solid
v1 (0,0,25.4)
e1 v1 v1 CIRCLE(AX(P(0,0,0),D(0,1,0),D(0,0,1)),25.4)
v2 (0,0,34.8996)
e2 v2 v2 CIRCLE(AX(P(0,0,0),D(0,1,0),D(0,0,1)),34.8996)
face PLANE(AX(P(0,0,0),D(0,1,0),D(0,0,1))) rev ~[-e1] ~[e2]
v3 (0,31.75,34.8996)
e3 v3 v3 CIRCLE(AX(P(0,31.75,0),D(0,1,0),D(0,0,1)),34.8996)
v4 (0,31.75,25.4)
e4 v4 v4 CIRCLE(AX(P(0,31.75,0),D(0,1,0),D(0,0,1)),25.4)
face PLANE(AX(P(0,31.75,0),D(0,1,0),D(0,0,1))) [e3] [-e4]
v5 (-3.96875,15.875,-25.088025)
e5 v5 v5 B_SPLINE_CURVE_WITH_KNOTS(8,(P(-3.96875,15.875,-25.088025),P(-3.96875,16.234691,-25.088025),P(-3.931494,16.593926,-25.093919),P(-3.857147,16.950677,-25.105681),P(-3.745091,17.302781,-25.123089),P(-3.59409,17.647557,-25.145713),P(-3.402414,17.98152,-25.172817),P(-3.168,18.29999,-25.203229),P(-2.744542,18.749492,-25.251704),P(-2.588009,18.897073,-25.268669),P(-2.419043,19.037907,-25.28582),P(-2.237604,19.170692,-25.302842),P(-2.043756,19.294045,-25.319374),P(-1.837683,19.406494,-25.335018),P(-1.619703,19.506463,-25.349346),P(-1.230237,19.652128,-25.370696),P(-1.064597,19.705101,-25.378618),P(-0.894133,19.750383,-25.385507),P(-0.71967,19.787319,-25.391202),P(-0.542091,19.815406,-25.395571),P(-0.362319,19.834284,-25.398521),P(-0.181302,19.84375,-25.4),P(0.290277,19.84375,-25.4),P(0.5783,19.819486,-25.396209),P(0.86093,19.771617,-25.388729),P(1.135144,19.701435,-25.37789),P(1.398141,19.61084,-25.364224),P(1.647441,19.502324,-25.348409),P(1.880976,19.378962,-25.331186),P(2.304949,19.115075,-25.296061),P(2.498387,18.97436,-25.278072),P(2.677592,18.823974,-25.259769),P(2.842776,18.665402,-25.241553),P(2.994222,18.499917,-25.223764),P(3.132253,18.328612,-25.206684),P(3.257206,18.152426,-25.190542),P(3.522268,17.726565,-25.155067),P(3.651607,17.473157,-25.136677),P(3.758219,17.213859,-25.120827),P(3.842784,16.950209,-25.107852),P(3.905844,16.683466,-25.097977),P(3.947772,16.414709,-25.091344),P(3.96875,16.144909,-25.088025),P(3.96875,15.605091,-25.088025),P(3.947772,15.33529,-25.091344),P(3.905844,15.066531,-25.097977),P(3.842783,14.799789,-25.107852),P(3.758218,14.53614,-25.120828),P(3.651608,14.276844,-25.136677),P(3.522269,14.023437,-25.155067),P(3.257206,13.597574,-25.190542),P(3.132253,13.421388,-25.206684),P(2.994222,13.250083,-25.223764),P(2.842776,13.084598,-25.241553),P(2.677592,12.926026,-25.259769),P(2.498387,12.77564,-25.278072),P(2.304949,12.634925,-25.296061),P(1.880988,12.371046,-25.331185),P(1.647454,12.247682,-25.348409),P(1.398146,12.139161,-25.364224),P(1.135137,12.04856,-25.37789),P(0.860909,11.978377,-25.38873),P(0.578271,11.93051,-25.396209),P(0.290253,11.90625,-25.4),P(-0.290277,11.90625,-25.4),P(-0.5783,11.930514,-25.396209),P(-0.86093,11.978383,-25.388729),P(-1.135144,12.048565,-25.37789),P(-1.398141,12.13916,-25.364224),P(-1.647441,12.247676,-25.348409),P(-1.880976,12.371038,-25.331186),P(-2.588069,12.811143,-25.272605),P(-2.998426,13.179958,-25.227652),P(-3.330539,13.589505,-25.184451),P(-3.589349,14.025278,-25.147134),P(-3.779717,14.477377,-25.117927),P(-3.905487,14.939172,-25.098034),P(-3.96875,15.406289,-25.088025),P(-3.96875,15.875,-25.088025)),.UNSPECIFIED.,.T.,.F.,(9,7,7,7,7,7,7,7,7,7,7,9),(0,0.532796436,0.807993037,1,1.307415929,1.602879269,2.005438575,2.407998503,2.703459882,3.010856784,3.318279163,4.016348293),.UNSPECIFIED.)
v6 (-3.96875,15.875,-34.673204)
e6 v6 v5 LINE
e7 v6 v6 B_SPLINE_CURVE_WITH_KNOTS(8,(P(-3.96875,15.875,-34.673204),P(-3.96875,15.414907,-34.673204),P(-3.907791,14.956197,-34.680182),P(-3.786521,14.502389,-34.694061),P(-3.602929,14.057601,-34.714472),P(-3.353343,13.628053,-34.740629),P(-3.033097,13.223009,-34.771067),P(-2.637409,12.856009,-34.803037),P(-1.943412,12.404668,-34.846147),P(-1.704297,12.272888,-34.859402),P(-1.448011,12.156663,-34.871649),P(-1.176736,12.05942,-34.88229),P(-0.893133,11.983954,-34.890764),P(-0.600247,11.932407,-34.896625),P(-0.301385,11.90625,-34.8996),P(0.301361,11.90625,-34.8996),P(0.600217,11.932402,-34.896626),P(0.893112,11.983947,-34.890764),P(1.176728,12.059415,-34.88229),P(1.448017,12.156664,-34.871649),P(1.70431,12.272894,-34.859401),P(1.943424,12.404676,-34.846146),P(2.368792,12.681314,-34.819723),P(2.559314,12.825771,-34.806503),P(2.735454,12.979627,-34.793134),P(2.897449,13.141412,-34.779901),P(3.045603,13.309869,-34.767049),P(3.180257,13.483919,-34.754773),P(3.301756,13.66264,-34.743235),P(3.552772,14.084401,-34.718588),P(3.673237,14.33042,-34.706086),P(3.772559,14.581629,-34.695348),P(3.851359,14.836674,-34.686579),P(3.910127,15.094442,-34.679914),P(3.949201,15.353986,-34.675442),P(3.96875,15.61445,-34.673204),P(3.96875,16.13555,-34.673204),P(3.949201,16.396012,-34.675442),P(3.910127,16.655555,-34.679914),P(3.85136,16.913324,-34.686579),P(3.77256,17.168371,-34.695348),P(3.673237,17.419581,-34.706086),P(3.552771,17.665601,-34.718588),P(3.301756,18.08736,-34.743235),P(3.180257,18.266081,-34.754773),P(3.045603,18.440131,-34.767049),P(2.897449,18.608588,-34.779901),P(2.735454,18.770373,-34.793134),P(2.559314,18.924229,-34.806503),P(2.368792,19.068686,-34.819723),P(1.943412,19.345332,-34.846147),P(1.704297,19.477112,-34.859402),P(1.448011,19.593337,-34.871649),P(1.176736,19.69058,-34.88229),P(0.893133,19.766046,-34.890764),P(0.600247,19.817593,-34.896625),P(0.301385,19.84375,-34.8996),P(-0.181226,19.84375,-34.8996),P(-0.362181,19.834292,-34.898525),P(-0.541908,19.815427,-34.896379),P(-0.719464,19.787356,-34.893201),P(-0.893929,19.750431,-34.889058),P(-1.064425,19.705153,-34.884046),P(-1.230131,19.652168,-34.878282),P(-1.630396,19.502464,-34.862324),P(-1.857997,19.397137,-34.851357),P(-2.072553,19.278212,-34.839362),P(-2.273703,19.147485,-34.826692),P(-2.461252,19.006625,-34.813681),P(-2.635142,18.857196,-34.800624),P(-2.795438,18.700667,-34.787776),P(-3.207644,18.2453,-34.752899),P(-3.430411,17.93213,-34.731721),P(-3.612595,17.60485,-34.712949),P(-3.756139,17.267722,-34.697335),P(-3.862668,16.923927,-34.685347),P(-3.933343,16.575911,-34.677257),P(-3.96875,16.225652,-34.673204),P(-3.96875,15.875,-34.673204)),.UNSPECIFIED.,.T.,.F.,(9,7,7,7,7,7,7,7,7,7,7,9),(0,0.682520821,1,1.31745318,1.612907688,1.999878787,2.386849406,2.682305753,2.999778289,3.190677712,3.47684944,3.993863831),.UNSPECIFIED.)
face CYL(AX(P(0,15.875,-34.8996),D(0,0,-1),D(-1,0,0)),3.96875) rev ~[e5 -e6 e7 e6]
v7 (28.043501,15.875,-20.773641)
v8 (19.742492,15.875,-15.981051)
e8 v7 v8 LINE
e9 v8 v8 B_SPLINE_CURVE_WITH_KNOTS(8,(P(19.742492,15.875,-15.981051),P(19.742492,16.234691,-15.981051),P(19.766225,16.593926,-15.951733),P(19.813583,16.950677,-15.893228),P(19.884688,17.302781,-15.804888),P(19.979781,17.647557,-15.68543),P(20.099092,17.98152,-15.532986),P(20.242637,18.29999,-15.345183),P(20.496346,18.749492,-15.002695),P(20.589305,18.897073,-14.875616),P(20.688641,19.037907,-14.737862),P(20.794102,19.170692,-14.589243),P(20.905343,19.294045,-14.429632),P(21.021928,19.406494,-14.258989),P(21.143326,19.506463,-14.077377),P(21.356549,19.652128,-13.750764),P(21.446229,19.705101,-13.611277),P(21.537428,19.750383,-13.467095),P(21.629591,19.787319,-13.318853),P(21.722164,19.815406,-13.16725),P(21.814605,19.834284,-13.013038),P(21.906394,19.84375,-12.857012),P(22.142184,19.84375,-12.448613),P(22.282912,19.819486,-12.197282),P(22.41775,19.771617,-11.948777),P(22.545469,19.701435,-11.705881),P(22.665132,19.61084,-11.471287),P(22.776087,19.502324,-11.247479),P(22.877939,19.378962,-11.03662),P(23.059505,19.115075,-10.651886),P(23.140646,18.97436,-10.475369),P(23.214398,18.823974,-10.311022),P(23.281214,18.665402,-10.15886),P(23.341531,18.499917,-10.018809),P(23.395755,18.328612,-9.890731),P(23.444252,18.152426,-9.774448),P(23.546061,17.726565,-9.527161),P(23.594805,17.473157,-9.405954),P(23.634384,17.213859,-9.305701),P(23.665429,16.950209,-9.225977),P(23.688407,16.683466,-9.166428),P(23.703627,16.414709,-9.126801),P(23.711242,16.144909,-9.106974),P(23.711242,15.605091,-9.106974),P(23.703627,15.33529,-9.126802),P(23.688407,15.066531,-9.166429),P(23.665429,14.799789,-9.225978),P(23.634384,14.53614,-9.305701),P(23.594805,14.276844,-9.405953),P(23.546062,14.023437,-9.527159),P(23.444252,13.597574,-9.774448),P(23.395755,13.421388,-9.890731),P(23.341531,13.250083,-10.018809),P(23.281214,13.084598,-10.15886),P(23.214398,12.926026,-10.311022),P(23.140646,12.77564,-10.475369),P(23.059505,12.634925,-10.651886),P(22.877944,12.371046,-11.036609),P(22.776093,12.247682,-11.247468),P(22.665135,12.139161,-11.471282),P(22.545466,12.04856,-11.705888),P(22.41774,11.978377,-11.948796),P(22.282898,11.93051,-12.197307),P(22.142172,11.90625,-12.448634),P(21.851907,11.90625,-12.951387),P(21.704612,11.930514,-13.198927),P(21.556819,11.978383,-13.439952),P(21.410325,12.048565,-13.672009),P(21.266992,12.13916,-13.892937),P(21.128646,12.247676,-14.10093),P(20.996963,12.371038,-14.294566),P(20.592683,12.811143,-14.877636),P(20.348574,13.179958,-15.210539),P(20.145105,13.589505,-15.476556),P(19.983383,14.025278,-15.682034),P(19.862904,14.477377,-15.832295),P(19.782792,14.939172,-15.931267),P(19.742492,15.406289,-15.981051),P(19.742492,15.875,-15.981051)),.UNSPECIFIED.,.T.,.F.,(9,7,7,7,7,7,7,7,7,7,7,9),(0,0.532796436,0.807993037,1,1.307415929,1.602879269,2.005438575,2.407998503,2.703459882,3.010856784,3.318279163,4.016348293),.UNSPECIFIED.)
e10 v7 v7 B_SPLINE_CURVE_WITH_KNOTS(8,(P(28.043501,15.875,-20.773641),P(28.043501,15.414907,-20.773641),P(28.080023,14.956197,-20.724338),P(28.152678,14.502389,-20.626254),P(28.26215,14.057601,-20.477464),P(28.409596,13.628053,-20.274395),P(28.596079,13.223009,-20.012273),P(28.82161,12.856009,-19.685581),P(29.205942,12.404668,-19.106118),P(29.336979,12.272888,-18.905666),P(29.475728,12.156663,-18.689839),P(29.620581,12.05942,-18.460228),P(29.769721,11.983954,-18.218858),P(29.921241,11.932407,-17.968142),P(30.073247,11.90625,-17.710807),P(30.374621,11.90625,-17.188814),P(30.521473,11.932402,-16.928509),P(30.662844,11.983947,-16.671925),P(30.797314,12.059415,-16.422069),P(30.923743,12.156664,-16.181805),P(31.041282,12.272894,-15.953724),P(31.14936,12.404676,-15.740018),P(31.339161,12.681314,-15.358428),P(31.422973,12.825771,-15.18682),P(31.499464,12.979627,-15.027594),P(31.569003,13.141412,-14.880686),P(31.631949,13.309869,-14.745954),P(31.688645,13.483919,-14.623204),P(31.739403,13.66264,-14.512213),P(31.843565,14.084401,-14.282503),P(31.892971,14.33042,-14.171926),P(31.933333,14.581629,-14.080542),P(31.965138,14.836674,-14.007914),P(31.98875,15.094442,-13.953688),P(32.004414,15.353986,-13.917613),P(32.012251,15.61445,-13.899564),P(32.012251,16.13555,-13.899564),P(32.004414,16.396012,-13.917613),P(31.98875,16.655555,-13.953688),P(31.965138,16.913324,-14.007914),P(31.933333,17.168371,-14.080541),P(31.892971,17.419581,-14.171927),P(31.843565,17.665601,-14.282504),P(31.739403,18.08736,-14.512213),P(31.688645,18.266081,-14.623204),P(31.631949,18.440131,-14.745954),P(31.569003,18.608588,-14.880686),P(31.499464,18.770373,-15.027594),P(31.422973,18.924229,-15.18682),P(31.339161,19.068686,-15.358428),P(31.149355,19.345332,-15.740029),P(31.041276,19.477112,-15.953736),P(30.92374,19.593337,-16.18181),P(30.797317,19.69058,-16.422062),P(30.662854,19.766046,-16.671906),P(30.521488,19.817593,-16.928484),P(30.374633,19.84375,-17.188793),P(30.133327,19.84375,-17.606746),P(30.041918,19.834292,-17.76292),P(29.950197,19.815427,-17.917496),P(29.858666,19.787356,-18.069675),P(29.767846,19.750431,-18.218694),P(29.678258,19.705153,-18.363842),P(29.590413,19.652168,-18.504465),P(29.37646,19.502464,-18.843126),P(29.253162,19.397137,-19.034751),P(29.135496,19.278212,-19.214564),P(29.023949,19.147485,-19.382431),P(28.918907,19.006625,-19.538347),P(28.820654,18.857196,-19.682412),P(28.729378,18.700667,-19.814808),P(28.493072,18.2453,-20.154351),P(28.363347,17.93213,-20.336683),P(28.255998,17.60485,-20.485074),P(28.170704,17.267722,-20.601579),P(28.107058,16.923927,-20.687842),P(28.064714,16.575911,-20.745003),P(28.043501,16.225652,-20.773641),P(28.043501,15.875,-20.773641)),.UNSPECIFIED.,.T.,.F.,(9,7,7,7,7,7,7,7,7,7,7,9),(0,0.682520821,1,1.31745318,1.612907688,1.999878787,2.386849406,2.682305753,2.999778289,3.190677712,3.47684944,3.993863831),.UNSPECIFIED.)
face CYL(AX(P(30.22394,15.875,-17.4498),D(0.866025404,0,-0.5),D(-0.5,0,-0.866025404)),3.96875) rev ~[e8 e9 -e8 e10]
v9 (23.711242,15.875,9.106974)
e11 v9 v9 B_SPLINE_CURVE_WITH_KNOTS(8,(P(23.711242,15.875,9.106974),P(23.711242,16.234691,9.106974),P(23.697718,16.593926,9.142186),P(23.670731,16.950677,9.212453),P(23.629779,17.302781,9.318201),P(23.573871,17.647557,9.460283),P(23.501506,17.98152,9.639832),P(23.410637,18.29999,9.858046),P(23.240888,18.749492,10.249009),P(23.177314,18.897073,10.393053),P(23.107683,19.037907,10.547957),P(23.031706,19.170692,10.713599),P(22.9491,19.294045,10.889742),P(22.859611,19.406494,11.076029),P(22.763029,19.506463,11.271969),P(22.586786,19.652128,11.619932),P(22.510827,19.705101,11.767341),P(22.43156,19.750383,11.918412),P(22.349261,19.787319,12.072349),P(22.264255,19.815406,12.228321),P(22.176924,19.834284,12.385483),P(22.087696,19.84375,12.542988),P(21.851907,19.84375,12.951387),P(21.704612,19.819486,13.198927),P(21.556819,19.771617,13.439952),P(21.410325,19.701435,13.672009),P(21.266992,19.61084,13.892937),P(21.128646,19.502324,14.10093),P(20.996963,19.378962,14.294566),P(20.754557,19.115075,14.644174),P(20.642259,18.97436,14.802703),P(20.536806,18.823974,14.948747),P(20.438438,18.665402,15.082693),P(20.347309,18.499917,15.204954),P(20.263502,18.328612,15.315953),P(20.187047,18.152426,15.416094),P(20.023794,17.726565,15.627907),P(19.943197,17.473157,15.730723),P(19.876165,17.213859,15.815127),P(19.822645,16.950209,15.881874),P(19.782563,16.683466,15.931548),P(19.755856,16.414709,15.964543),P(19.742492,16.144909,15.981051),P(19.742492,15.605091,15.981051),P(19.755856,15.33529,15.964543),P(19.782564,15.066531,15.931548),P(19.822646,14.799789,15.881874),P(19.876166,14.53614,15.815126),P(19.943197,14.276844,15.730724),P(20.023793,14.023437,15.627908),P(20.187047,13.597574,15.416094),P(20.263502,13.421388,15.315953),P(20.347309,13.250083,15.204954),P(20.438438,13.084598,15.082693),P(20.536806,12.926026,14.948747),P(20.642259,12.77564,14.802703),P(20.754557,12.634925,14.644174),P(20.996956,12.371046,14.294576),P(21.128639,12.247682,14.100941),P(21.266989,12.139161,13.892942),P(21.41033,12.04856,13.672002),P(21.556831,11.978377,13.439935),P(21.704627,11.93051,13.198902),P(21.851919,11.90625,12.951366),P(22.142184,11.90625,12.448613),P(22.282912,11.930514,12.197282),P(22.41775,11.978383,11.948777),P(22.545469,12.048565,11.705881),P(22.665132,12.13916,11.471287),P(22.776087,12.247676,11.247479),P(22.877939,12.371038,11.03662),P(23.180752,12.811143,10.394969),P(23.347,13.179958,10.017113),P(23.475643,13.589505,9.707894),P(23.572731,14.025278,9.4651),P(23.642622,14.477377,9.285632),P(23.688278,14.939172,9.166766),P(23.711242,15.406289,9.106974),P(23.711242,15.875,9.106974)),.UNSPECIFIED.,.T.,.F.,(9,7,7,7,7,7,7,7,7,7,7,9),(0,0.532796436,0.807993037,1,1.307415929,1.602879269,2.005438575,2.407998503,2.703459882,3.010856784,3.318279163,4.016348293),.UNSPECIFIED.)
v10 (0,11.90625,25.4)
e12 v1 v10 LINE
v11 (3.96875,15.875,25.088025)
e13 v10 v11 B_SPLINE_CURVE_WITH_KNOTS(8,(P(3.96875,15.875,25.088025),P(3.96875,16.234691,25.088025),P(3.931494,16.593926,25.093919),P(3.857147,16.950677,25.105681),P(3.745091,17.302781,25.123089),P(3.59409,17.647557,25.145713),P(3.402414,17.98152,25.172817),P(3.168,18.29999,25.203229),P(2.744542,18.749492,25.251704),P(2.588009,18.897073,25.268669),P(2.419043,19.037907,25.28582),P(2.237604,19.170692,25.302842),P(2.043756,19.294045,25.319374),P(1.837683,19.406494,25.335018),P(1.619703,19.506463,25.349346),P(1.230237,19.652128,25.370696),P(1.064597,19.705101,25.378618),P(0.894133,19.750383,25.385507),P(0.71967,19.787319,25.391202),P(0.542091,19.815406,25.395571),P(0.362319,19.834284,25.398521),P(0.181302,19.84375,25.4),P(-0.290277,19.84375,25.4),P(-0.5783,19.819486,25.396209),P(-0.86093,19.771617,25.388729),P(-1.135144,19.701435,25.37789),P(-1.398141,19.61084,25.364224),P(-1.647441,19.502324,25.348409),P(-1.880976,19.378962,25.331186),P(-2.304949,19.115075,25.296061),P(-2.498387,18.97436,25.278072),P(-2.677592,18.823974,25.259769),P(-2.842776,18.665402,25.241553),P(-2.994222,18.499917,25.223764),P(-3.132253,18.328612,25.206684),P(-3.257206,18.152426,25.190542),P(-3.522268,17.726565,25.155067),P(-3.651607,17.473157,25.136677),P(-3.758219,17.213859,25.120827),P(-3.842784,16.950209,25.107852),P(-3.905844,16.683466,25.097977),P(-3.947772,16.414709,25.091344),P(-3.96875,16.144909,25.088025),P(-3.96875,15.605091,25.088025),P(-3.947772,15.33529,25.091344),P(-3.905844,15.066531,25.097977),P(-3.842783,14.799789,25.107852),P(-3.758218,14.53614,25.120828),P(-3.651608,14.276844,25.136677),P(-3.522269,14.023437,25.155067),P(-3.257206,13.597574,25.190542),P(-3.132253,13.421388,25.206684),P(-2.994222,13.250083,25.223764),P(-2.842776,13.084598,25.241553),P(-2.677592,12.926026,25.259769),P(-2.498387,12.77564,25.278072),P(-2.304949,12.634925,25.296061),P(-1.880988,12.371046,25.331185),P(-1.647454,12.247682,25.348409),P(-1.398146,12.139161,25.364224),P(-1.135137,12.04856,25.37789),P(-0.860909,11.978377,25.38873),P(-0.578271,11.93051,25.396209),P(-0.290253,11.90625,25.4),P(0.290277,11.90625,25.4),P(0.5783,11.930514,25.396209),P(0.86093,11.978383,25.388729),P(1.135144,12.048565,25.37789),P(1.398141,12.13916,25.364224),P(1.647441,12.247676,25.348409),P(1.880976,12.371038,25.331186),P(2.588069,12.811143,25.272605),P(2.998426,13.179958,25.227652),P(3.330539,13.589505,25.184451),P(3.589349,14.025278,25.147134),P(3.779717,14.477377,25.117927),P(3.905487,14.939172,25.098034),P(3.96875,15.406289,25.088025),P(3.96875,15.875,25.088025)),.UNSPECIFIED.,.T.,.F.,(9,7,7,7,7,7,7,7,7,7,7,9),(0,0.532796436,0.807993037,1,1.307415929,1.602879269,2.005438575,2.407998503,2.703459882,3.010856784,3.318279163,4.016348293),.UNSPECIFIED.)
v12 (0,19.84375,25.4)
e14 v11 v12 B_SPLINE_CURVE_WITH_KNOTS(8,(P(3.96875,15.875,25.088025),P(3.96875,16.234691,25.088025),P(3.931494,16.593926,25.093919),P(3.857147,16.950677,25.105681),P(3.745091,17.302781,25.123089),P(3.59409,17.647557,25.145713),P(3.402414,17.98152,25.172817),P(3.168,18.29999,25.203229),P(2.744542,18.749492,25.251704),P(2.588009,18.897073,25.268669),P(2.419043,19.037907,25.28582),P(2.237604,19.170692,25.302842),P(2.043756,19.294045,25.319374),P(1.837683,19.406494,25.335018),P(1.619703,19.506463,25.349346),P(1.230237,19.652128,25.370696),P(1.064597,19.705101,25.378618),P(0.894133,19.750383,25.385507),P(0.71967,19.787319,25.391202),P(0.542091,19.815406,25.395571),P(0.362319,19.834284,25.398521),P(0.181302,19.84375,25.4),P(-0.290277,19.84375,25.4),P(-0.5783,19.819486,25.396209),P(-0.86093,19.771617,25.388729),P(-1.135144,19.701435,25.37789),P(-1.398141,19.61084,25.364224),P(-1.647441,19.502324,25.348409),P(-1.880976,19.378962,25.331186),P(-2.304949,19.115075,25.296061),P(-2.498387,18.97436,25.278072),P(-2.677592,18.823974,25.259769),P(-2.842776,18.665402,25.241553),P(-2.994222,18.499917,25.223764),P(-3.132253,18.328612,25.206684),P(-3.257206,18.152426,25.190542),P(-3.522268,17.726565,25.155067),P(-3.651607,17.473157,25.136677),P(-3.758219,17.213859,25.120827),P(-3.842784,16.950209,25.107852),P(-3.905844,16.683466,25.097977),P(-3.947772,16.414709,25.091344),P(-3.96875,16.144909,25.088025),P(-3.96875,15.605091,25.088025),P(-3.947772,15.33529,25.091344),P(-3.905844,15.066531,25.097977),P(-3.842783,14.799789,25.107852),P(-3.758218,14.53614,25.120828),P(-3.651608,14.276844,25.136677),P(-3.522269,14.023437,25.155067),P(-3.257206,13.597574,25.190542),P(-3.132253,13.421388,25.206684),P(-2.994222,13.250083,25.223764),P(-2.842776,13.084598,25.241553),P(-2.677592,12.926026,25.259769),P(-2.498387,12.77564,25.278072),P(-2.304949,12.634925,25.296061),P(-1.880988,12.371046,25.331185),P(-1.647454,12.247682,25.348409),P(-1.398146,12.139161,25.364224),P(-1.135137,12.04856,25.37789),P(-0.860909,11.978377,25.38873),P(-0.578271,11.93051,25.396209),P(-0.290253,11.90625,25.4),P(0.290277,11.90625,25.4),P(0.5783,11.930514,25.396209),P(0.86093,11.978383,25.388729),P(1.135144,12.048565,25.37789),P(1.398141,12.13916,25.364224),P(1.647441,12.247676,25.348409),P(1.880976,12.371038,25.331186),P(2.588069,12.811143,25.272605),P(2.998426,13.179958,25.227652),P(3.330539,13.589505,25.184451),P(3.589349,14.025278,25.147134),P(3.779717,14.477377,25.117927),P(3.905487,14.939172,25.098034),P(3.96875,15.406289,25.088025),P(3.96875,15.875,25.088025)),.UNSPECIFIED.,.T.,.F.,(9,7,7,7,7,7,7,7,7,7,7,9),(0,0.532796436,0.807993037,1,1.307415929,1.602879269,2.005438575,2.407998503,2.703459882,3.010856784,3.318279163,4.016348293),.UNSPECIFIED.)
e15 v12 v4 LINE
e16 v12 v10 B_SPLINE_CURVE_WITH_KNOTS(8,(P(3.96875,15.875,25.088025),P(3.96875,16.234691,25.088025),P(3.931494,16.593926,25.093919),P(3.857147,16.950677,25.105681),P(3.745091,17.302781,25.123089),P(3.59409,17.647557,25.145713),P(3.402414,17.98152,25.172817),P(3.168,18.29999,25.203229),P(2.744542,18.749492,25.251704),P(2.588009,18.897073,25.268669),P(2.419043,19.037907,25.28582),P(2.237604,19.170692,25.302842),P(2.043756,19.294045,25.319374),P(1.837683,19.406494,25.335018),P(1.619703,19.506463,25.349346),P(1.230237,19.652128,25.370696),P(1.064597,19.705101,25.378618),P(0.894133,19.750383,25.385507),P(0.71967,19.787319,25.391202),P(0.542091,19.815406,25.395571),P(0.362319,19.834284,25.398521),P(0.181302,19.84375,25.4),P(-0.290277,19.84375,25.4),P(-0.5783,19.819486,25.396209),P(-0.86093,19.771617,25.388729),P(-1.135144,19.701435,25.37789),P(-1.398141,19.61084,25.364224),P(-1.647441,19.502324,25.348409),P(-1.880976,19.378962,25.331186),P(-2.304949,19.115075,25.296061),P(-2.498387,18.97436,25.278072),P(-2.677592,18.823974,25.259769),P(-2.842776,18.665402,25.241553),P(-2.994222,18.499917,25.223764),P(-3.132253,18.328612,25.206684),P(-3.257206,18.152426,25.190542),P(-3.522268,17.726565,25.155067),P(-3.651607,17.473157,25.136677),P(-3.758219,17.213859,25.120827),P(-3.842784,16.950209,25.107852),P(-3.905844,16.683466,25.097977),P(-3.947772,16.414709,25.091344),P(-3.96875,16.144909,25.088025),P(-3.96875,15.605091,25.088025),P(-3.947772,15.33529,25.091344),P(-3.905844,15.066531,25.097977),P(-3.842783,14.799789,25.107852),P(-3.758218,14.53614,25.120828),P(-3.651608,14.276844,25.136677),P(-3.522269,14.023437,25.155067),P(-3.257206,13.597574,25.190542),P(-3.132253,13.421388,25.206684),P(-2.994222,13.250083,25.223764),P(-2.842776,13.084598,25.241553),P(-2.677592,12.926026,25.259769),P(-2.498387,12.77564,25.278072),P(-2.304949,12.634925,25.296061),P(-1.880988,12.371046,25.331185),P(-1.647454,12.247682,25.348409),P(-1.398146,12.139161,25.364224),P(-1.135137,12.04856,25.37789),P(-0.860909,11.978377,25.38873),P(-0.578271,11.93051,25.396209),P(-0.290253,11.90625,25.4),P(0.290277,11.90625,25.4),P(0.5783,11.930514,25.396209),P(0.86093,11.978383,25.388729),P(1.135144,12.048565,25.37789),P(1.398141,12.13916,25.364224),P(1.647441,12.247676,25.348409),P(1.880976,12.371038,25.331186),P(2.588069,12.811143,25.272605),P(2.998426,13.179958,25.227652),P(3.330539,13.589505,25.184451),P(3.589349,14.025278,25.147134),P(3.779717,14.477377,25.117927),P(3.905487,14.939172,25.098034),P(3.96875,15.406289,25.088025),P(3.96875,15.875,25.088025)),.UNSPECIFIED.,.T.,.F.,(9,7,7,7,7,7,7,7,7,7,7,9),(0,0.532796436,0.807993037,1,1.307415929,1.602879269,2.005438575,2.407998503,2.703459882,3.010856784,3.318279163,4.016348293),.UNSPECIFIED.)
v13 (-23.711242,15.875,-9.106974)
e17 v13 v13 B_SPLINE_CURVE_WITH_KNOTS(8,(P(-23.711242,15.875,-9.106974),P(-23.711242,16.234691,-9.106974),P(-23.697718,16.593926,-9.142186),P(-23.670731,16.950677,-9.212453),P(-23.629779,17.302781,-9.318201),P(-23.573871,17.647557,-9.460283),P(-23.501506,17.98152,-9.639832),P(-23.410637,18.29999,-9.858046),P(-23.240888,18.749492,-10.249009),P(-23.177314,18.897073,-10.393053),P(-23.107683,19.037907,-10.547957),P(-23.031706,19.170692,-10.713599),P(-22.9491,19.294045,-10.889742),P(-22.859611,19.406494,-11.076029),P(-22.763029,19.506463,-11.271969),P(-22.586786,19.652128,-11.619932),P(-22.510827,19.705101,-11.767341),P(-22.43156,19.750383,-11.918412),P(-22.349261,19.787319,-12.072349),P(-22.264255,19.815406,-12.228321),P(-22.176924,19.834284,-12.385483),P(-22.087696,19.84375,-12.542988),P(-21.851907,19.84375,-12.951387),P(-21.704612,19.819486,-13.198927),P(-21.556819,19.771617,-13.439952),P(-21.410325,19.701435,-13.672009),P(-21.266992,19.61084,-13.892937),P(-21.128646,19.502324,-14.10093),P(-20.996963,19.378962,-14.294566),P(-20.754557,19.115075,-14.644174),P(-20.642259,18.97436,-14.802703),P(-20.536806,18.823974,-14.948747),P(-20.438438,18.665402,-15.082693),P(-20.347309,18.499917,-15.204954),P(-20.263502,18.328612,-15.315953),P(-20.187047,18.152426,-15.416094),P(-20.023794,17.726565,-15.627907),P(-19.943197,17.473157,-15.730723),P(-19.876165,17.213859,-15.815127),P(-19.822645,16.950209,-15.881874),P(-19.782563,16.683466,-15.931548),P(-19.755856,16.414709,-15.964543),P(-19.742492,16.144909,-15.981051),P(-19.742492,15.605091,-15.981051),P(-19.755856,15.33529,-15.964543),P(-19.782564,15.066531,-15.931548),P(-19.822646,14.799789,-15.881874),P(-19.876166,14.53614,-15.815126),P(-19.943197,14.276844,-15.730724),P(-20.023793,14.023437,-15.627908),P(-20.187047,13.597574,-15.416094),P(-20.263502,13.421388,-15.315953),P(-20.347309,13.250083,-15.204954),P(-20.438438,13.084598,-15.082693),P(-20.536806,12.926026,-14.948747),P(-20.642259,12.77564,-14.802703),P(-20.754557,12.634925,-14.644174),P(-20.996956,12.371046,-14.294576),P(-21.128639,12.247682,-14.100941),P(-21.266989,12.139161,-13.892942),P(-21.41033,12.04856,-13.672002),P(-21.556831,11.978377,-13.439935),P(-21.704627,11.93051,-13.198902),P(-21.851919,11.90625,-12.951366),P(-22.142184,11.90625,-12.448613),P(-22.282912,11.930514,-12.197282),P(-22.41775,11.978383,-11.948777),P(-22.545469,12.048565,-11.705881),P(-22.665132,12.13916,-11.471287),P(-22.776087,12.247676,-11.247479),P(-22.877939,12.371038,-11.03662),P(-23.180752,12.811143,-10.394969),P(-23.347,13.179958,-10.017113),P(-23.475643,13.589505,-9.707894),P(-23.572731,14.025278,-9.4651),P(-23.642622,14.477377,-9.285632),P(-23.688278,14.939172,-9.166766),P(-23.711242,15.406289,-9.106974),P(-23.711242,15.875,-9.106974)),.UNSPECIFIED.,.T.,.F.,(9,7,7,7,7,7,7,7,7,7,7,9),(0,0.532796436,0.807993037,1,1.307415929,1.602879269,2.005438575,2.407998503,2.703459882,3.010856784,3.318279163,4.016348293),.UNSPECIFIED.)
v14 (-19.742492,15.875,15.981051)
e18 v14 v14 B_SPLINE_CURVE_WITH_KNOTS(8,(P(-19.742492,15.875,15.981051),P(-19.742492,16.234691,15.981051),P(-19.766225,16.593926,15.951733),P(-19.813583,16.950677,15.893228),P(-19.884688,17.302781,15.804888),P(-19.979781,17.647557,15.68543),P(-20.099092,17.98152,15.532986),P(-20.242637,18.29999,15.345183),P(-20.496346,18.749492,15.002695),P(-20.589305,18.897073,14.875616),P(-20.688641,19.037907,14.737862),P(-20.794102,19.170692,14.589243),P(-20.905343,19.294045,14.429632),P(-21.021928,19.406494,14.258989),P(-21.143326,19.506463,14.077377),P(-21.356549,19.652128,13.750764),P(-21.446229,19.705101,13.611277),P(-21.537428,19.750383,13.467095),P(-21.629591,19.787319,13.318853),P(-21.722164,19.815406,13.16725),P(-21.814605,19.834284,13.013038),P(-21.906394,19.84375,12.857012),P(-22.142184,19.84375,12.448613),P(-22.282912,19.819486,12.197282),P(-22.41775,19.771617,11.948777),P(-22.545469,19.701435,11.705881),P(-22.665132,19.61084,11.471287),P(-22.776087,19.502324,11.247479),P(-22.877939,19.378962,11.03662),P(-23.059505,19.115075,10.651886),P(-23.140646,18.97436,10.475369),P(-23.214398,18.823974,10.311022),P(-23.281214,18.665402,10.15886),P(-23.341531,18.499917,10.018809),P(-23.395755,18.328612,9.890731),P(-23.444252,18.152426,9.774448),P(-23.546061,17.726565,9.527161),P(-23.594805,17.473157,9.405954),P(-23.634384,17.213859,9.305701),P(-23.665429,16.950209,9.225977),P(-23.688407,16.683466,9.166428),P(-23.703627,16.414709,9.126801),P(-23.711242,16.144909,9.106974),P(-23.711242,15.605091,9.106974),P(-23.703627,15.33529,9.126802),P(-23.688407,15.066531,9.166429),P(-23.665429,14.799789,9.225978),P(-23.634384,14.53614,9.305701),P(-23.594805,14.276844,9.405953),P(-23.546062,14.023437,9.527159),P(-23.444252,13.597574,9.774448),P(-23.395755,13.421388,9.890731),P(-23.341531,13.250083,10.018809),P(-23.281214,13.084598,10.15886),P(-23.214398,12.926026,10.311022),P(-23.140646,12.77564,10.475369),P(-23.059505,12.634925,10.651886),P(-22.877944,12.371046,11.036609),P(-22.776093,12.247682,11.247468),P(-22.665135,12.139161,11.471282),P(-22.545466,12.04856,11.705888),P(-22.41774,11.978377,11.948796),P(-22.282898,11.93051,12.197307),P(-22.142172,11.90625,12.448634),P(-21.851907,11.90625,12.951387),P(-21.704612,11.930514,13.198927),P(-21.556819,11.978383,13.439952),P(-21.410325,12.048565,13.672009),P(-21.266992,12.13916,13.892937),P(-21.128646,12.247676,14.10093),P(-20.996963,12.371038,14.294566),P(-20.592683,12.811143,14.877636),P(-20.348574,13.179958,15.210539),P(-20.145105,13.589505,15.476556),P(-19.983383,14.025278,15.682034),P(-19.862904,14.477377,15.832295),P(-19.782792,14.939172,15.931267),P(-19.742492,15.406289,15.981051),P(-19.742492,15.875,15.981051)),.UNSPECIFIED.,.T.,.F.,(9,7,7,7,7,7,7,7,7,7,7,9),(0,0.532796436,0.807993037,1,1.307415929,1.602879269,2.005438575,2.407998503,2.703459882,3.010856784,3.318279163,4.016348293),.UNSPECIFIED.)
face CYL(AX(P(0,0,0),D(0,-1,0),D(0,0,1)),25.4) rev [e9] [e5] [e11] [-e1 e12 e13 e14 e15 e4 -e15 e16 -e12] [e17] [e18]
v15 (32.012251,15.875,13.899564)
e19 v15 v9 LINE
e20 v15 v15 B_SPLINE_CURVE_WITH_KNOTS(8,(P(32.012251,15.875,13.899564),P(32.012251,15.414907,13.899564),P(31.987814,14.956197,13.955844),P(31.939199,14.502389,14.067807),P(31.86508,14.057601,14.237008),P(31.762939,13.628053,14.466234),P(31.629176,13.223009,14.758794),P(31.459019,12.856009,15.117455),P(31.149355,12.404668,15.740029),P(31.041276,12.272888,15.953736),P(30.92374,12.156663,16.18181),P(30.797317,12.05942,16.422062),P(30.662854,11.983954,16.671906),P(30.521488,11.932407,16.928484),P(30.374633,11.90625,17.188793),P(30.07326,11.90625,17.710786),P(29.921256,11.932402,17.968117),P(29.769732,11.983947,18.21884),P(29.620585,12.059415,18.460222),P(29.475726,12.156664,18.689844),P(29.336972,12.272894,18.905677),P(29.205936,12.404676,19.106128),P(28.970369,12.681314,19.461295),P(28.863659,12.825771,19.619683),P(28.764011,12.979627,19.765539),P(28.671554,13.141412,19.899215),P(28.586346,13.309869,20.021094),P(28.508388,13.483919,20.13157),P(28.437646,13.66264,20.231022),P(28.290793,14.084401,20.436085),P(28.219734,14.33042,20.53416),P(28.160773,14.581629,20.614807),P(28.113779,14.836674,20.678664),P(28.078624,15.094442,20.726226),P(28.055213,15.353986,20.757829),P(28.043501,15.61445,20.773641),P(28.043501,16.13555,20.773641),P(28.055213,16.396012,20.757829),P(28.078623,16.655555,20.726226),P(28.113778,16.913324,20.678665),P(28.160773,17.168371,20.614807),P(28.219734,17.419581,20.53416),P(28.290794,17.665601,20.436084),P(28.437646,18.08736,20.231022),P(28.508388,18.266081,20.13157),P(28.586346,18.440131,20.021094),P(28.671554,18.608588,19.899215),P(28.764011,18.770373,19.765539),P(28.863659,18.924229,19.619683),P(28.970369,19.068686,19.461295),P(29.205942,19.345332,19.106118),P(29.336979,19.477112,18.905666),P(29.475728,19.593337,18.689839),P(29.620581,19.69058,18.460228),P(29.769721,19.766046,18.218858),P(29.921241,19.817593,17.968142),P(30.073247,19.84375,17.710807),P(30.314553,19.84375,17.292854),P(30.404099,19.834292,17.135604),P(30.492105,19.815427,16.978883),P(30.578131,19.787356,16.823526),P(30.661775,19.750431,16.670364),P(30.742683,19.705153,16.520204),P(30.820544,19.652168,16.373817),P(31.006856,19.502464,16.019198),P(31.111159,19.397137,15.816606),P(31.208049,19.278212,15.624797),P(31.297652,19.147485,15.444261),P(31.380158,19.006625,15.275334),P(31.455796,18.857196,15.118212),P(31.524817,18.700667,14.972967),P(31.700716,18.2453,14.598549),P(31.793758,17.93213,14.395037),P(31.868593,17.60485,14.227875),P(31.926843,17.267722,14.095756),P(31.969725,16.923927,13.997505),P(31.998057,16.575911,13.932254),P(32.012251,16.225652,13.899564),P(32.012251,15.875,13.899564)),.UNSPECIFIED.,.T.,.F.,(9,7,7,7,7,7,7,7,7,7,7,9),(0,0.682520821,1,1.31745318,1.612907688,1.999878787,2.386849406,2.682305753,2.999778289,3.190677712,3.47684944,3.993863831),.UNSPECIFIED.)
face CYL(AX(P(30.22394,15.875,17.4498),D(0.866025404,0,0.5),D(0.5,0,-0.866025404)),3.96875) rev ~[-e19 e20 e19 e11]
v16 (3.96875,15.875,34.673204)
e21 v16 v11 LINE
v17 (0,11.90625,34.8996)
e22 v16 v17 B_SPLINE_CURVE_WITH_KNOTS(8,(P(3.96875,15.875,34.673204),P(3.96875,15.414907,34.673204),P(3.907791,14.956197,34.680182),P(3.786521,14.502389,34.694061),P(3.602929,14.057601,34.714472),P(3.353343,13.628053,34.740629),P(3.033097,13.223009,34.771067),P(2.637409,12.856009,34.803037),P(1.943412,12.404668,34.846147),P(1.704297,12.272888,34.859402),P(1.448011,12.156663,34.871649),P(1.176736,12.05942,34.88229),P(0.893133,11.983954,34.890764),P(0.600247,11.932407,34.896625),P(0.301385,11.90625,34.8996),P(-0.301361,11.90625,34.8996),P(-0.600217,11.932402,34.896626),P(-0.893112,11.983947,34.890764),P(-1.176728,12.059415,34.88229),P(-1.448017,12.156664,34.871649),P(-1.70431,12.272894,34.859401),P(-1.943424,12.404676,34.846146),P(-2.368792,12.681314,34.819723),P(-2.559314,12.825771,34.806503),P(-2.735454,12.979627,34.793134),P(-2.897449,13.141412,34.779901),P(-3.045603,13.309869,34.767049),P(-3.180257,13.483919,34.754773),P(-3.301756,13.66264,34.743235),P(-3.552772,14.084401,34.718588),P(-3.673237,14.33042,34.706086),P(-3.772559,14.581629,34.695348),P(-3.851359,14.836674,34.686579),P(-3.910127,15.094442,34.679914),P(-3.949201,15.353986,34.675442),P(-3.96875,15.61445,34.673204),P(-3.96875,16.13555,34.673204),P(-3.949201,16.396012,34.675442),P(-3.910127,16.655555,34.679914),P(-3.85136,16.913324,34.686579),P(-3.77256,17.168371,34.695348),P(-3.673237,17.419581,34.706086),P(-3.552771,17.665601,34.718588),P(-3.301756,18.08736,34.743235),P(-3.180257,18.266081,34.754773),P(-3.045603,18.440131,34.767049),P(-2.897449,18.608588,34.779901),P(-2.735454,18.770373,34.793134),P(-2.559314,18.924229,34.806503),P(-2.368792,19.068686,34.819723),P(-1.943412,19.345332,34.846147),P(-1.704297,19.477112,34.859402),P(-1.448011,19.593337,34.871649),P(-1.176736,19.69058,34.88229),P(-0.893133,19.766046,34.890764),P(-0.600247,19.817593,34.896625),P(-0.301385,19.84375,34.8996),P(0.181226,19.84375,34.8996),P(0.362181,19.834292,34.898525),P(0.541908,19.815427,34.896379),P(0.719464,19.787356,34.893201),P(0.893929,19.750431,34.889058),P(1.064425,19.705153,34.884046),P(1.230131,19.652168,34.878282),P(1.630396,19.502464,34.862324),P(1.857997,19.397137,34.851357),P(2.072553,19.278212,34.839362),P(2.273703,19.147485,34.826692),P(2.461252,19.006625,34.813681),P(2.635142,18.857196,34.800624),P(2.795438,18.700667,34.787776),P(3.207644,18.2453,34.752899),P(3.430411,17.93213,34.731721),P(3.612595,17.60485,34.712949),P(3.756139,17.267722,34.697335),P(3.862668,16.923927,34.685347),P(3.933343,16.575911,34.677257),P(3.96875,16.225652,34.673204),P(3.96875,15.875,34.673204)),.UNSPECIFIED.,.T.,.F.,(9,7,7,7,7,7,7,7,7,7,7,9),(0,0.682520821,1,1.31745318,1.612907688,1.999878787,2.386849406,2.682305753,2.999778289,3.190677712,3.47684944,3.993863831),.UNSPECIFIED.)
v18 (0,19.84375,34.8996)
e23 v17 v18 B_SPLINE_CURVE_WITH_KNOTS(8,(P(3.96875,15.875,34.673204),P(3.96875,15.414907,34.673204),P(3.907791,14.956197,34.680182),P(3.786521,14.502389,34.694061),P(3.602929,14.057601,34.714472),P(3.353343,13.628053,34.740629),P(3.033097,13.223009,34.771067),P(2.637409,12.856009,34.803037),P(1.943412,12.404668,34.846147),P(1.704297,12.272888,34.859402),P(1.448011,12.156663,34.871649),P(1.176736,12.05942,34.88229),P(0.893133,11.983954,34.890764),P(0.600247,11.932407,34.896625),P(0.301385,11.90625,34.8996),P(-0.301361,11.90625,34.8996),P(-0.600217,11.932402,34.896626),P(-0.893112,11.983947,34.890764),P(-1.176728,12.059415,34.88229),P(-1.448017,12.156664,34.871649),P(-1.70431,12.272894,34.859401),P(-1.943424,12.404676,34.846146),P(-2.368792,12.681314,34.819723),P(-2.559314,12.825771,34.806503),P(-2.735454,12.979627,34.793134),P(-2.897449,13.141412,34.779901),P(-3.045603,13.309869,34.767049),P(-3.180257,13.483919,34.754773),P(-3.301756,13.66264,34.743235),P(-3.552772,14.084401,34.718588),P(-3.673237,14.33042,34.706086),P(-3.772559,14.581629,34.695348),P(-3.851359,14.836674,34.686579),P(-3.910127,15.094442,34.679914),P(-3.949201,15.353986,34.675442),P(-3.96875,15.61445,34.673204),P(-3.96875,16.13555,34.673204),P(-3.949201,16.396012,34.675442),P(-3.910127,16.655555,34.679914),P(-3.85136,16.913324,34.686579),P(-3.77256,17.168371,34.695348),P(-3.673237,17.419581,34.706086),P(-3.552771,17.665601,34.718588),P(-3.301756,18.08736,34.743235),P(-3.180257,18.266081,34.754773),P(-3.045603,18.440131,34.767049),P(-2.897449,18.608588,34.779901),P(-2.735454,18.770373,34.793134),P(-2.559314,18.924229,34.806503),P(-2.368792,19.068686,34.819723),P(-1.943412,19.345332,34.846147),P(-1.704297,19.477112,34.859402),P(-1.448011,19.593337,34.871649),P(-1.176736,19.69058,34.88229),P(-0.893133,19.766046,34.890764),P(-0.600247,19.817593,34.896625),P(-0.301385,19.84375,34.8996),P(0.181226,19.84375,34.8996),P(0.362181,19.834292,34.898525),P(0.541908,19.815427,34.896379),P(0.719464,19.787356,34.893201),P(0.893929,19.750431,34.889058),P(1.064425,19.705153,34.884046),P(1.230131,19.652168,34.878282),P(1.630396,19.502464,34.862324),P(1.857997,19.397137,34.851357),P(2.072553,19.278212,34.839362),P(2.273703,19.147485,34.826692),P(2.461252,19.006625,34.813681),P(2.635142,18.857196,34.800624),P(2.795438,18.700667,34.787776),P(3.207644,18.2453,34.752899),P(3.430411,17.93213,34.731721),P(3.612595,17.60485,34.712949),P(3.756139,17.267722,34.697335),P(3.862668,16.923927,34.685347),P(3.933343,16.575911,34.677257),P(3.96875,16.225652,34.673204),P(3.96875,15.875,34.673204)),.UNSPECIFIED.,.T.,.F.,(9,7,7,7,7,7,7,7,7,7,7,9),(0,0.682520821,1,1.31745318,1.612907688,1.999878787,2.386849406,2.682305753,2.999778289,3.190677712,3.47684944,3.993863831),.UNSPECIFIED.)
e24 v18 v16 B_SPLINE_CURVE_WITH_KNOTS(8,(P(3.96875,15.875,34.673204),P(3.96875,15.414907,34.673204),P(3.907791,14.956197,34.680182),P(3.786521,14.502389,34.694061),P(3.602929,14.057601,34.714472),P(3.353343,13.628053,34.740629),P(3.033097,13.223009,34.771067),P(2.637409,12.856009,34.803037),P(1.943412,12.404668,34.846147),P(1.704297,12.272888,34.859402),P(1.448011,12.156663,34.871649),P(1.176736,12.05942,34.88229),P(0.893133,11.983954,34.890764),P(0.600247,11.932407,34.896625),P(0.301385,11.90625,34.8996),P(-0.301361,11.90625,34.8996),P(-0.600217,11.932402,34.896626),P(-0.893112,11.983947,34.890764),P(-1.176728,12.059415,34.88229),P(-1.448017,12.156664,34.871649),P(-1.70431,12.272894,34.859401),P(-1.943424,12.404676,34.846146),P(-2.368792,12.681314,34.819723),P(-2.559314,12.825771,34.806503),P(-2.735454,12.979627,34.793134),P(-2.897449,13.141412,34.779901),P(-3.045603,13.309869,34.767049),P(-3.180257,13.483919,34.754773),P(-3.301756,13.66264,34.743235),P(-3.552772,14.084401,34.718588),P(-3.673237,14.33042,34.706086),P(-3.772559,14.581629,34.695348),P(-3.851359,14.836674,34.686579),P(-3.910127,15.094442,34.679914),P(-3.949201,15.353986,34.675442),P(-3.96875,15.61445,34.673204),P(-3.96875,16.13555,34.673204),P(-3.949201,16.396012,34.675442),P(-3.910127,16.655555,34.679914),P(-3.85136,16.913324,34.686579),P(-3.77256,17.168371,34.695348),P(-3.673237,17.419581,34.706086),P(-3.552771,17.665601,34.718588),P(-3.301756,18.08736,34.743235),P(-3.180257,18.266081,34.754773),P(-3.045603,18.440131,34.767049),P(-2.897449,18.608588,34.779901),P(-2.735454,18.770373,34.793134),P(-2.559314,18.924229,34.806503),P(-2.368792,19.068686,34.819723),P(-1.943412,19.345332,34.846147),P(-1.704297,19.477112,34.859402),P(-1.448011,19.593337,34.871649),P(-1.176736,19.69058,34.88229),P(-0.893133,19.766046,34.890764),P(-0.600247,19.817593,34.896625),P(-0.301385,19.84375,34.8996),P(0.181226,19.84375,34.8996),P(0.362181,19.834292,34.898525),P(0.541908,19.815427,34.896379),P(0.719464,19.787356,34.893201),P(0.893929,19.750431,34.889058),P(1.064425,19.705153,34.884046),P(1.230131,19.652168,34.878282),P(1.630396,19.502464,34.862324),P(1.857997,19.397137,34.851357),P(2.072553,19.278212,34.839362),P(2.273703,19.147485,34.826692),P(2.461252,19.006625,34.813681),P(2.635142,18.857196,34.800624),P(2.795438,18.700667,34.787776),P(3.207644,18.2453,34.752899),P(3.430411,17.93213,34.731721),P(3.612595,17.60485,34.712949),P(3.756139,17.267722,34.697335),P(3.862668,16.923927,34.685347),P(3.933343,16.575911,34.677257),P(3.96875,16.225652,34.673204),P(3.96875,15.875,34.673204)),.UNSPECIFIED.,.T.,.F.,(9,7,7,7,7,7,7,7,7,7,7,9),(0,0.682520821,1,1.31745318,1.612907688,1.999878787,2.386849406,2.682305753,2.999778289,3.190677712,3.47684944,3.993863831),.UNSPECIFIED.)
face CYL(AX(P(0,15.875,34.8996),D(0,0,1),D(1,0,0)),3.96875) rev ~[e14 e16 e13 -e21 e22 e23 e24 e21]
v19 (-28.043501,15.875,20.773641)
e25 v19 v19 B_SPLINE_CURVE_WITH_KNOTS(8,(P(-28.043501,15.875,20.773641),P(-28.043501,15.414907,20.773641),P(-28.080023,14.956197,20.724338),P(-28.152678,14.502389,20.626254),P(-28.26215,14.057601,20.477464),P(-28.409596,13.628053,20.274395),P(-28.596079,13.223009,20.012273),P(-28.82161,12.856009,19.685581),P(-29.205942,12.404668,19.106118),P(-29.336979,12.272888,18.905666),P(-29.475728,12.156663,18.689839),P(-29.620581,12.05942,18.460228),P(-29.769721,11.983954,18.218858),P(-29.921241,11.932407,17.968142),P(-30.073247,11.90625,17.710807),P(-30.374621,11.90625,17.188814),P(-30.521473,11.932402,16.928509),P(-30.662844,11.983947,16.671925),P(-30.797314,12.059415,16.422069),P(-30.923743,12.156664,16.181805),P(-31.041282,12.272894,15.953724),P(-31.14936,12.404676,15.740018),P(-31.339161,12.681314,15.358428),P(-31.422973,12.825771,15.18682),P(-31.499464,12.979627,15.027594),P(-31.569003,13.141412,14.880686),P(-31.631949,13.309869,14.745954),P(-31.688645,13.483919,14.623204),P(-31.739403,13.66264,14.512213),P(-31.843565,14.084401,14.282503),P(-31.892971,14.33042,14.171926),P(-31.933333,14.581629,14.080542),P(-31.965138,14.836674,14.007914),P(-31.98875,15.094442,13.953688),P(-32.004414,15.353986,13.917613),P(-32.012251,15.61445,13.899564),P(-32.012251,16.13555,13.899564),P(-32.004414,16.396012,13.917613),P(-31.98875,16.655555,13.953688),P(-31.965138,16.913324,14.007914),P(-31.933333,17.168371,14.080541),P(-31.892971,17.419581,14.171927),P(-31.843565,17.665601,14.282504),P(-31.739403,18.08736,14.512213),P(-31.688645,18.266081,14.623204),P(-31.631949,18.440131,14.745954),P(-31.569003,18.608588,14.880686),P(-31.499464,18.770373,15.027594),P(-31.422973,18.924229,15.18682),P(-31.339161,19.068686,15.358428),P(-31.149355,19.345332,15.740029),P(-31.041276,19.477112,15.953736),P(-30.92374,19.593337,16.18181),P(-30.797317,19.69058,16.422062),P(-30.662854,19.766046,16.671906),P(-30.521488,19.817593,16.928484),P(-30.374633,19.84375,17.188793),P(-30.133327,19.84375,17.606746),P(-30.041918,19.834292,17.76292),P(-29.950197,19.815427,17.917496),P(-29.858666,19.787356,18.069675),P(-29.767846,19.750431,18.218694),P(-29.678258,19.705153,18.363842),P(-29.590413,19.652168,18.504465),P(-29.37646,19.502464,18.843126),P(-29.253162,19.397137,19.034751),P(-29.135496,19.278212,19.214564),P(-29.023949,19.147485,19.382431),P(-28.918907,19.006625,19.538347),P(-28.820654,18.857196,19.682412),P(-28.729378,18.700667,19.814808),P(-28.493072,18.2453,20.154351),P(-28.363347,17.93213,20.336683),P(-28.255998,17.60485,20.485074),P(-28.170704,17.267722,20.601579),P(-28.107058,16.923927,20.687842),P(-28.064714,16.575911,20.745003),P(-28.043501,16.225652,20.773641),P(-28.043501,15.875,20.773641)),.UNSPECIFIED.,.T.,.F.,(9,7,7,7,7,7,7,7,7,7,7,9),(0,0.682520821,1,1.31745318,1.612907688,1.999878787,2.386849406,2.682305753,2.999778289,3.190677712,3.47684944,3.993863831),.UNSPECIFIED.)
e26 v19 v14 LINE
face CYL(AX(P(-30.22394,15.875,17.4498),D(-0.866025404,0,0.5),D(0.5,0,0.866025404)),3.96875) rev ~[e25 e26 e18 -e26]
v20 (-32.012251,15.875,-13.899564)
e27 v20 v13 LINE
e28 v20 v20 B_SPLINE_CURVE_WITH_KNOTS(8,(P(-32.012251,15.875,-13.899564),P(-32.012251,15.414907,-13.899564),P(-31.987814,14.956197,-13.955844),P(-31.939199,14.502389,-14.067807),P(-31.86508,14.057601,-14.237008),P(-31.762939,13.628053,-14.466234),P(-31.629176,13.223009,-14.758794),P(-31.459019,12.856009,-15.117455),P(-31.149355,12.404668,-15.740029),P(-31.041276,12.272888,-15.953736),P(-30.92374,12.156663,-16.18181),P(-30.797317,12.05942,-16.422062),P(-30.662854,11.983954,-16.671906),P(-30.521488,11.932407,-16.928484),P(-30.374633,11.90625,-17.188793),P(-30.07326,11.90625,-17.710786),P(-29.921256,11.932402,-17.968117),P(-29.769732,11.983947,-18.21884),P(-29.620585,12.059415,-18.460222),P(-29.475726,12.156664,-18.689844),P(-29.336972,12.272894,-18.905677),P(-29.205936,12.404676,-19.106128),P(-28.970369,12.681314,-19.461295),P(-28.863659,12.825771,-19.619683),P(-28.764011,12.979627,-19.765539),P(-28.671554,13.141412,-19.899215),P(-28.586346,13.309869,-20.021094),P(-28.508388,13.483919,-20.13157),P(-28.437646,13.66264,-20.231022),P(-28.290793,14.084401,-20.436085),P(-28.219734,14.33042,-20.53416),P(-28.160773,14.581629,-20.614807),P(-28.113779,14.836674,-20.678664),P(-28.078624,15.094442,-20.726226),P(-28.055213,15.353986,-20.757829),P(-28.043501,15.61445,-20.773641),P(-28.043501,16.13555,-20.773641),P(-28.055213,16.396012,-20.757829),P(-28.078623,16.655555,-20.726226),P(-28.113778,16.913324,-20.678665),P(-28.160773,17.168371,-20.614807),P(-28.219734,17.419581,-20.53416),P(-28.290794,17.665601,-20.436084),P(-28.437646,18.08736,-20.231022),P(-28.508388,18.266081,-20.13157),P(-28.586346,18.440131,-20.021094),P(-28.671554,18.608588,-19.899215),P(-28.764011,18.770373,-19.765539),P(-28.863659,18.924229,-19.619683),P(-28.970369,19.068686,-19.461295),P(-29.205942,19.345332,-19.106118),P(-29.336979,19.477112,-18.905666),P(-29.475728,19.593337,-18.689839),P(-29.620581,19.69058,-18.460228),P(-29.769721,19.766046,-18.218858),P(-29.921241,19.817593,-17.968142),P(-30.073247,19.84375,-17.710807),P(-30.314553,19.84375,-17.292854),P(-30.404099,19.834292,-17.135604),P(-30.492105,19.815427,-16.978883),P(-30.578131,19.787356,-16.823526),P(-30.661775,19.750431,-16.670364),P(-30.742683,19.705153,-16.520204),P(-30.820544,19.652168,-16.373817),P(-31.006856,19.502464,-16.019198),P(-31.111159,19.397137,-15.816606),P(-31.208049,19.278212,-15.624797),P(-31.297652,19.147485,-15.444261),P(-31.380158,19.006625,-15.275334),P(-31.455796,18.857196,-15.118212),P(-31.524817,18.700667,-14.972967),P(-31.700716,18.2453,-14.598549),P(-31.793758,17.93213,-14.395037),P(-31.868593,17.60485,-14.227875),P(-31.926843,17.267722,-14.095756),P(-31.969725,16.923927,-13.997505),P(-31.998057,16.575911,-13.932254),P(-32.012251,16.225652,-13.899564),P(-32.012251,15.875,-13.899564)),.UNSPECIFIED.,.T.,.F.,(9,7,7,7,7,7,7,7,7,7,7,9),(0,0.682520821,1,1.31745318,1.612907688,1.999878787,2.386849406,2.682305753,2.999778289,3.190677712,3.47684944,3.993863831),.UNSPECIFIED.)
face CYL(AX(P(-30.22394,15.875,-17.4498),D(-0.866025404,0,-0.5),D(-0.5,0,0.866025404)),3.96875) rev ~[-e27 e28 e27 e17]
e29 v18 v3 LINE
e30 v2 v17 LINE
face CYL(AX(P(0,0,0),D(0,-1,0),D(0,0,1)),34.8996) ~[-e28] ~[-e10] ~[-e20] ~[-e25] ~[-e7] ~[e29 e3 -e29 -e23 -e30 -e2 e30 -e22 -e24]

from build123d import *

# Parameters (mm, degrees)
SKETCH1_R                        = 34.8996
SKETCH1_R_2                      = 25.4
BOSS_EXTRUDE1_DEPTH              = 31.75
TAP_DRILL_FOR_3_8_16_TAP1_REACH  = 86.249
TAP_DRILL_FOR_3_8_16_TAP1_BORE_R = 3.96875
CIRPATTERN2_COUNT                = 6


with BuildPart() as part:
    # Sketch1 → Boss-Extrude1 (new body)
    with BuildSketch(Plane(origin=(0, 0, 0), x_dir=(1, 0, 0), z_dir=(0, 1, 0))):
        with Locations(Location((0, 0, 0), (0, 0, 270))):
            Circle(SKETCH1_R)
        with Locations(Location((0, 0, 0), (0, 0, 270))):
            Circle(SKETCH1_R_2, mode=Mode.SUBTRACT)
    extrude(amount=BOSS_EXTRUDE1_DEPTH)

    # Tap Drill for 3/8-16 Tap1 bore → Tap Drill for 3/8-16 Tap1 (cut, up to next)
    with BuildSketch(Plane.XY.offset(34.8996), mode=Mode.PRIVATE) as tap_drill_for_3_8_16_tap1_sk1:
        with Locations((0, 15.875)):
            Circle(TAP_DRILL_FOR_3_8_16_TAP1_BORE_R)
    tap_drill_for_3_8_16_tap1_tool1 = extrude(tap_drill_for_3_8_16_tap1_sk1.sketch, amount=-TAP_DRILL_FOR_3_8_16_TAP1_REACH, mode=Mode.PRIVATE) & part.part
    tap_drill_for_3_8_16_tap1 = tap_drill_for_3_8_16_tap1_tool1.solids().sort_by_distance((0, 15.875, 34.8996))[0]
    add(tap_drill_for_3_8_16_tap1, mode=Mode.SUBTRACT)

    # CirPattern2: Tap Drill for 3/8-16 Tap1 ×6 about axis
    cirpattern2_axis = Axis((0, 31.75, 0), (0, -1, 0))
    for i in range(1, CIRPATTERN2_COUNT):
        add(tap_drill_for_3_8_16_tap1.rotate(cirpattern2_axis, i * 360 / CIRPATTERN2_COUNT), mode=Mode.SUBTRACT)


solid = part.part
